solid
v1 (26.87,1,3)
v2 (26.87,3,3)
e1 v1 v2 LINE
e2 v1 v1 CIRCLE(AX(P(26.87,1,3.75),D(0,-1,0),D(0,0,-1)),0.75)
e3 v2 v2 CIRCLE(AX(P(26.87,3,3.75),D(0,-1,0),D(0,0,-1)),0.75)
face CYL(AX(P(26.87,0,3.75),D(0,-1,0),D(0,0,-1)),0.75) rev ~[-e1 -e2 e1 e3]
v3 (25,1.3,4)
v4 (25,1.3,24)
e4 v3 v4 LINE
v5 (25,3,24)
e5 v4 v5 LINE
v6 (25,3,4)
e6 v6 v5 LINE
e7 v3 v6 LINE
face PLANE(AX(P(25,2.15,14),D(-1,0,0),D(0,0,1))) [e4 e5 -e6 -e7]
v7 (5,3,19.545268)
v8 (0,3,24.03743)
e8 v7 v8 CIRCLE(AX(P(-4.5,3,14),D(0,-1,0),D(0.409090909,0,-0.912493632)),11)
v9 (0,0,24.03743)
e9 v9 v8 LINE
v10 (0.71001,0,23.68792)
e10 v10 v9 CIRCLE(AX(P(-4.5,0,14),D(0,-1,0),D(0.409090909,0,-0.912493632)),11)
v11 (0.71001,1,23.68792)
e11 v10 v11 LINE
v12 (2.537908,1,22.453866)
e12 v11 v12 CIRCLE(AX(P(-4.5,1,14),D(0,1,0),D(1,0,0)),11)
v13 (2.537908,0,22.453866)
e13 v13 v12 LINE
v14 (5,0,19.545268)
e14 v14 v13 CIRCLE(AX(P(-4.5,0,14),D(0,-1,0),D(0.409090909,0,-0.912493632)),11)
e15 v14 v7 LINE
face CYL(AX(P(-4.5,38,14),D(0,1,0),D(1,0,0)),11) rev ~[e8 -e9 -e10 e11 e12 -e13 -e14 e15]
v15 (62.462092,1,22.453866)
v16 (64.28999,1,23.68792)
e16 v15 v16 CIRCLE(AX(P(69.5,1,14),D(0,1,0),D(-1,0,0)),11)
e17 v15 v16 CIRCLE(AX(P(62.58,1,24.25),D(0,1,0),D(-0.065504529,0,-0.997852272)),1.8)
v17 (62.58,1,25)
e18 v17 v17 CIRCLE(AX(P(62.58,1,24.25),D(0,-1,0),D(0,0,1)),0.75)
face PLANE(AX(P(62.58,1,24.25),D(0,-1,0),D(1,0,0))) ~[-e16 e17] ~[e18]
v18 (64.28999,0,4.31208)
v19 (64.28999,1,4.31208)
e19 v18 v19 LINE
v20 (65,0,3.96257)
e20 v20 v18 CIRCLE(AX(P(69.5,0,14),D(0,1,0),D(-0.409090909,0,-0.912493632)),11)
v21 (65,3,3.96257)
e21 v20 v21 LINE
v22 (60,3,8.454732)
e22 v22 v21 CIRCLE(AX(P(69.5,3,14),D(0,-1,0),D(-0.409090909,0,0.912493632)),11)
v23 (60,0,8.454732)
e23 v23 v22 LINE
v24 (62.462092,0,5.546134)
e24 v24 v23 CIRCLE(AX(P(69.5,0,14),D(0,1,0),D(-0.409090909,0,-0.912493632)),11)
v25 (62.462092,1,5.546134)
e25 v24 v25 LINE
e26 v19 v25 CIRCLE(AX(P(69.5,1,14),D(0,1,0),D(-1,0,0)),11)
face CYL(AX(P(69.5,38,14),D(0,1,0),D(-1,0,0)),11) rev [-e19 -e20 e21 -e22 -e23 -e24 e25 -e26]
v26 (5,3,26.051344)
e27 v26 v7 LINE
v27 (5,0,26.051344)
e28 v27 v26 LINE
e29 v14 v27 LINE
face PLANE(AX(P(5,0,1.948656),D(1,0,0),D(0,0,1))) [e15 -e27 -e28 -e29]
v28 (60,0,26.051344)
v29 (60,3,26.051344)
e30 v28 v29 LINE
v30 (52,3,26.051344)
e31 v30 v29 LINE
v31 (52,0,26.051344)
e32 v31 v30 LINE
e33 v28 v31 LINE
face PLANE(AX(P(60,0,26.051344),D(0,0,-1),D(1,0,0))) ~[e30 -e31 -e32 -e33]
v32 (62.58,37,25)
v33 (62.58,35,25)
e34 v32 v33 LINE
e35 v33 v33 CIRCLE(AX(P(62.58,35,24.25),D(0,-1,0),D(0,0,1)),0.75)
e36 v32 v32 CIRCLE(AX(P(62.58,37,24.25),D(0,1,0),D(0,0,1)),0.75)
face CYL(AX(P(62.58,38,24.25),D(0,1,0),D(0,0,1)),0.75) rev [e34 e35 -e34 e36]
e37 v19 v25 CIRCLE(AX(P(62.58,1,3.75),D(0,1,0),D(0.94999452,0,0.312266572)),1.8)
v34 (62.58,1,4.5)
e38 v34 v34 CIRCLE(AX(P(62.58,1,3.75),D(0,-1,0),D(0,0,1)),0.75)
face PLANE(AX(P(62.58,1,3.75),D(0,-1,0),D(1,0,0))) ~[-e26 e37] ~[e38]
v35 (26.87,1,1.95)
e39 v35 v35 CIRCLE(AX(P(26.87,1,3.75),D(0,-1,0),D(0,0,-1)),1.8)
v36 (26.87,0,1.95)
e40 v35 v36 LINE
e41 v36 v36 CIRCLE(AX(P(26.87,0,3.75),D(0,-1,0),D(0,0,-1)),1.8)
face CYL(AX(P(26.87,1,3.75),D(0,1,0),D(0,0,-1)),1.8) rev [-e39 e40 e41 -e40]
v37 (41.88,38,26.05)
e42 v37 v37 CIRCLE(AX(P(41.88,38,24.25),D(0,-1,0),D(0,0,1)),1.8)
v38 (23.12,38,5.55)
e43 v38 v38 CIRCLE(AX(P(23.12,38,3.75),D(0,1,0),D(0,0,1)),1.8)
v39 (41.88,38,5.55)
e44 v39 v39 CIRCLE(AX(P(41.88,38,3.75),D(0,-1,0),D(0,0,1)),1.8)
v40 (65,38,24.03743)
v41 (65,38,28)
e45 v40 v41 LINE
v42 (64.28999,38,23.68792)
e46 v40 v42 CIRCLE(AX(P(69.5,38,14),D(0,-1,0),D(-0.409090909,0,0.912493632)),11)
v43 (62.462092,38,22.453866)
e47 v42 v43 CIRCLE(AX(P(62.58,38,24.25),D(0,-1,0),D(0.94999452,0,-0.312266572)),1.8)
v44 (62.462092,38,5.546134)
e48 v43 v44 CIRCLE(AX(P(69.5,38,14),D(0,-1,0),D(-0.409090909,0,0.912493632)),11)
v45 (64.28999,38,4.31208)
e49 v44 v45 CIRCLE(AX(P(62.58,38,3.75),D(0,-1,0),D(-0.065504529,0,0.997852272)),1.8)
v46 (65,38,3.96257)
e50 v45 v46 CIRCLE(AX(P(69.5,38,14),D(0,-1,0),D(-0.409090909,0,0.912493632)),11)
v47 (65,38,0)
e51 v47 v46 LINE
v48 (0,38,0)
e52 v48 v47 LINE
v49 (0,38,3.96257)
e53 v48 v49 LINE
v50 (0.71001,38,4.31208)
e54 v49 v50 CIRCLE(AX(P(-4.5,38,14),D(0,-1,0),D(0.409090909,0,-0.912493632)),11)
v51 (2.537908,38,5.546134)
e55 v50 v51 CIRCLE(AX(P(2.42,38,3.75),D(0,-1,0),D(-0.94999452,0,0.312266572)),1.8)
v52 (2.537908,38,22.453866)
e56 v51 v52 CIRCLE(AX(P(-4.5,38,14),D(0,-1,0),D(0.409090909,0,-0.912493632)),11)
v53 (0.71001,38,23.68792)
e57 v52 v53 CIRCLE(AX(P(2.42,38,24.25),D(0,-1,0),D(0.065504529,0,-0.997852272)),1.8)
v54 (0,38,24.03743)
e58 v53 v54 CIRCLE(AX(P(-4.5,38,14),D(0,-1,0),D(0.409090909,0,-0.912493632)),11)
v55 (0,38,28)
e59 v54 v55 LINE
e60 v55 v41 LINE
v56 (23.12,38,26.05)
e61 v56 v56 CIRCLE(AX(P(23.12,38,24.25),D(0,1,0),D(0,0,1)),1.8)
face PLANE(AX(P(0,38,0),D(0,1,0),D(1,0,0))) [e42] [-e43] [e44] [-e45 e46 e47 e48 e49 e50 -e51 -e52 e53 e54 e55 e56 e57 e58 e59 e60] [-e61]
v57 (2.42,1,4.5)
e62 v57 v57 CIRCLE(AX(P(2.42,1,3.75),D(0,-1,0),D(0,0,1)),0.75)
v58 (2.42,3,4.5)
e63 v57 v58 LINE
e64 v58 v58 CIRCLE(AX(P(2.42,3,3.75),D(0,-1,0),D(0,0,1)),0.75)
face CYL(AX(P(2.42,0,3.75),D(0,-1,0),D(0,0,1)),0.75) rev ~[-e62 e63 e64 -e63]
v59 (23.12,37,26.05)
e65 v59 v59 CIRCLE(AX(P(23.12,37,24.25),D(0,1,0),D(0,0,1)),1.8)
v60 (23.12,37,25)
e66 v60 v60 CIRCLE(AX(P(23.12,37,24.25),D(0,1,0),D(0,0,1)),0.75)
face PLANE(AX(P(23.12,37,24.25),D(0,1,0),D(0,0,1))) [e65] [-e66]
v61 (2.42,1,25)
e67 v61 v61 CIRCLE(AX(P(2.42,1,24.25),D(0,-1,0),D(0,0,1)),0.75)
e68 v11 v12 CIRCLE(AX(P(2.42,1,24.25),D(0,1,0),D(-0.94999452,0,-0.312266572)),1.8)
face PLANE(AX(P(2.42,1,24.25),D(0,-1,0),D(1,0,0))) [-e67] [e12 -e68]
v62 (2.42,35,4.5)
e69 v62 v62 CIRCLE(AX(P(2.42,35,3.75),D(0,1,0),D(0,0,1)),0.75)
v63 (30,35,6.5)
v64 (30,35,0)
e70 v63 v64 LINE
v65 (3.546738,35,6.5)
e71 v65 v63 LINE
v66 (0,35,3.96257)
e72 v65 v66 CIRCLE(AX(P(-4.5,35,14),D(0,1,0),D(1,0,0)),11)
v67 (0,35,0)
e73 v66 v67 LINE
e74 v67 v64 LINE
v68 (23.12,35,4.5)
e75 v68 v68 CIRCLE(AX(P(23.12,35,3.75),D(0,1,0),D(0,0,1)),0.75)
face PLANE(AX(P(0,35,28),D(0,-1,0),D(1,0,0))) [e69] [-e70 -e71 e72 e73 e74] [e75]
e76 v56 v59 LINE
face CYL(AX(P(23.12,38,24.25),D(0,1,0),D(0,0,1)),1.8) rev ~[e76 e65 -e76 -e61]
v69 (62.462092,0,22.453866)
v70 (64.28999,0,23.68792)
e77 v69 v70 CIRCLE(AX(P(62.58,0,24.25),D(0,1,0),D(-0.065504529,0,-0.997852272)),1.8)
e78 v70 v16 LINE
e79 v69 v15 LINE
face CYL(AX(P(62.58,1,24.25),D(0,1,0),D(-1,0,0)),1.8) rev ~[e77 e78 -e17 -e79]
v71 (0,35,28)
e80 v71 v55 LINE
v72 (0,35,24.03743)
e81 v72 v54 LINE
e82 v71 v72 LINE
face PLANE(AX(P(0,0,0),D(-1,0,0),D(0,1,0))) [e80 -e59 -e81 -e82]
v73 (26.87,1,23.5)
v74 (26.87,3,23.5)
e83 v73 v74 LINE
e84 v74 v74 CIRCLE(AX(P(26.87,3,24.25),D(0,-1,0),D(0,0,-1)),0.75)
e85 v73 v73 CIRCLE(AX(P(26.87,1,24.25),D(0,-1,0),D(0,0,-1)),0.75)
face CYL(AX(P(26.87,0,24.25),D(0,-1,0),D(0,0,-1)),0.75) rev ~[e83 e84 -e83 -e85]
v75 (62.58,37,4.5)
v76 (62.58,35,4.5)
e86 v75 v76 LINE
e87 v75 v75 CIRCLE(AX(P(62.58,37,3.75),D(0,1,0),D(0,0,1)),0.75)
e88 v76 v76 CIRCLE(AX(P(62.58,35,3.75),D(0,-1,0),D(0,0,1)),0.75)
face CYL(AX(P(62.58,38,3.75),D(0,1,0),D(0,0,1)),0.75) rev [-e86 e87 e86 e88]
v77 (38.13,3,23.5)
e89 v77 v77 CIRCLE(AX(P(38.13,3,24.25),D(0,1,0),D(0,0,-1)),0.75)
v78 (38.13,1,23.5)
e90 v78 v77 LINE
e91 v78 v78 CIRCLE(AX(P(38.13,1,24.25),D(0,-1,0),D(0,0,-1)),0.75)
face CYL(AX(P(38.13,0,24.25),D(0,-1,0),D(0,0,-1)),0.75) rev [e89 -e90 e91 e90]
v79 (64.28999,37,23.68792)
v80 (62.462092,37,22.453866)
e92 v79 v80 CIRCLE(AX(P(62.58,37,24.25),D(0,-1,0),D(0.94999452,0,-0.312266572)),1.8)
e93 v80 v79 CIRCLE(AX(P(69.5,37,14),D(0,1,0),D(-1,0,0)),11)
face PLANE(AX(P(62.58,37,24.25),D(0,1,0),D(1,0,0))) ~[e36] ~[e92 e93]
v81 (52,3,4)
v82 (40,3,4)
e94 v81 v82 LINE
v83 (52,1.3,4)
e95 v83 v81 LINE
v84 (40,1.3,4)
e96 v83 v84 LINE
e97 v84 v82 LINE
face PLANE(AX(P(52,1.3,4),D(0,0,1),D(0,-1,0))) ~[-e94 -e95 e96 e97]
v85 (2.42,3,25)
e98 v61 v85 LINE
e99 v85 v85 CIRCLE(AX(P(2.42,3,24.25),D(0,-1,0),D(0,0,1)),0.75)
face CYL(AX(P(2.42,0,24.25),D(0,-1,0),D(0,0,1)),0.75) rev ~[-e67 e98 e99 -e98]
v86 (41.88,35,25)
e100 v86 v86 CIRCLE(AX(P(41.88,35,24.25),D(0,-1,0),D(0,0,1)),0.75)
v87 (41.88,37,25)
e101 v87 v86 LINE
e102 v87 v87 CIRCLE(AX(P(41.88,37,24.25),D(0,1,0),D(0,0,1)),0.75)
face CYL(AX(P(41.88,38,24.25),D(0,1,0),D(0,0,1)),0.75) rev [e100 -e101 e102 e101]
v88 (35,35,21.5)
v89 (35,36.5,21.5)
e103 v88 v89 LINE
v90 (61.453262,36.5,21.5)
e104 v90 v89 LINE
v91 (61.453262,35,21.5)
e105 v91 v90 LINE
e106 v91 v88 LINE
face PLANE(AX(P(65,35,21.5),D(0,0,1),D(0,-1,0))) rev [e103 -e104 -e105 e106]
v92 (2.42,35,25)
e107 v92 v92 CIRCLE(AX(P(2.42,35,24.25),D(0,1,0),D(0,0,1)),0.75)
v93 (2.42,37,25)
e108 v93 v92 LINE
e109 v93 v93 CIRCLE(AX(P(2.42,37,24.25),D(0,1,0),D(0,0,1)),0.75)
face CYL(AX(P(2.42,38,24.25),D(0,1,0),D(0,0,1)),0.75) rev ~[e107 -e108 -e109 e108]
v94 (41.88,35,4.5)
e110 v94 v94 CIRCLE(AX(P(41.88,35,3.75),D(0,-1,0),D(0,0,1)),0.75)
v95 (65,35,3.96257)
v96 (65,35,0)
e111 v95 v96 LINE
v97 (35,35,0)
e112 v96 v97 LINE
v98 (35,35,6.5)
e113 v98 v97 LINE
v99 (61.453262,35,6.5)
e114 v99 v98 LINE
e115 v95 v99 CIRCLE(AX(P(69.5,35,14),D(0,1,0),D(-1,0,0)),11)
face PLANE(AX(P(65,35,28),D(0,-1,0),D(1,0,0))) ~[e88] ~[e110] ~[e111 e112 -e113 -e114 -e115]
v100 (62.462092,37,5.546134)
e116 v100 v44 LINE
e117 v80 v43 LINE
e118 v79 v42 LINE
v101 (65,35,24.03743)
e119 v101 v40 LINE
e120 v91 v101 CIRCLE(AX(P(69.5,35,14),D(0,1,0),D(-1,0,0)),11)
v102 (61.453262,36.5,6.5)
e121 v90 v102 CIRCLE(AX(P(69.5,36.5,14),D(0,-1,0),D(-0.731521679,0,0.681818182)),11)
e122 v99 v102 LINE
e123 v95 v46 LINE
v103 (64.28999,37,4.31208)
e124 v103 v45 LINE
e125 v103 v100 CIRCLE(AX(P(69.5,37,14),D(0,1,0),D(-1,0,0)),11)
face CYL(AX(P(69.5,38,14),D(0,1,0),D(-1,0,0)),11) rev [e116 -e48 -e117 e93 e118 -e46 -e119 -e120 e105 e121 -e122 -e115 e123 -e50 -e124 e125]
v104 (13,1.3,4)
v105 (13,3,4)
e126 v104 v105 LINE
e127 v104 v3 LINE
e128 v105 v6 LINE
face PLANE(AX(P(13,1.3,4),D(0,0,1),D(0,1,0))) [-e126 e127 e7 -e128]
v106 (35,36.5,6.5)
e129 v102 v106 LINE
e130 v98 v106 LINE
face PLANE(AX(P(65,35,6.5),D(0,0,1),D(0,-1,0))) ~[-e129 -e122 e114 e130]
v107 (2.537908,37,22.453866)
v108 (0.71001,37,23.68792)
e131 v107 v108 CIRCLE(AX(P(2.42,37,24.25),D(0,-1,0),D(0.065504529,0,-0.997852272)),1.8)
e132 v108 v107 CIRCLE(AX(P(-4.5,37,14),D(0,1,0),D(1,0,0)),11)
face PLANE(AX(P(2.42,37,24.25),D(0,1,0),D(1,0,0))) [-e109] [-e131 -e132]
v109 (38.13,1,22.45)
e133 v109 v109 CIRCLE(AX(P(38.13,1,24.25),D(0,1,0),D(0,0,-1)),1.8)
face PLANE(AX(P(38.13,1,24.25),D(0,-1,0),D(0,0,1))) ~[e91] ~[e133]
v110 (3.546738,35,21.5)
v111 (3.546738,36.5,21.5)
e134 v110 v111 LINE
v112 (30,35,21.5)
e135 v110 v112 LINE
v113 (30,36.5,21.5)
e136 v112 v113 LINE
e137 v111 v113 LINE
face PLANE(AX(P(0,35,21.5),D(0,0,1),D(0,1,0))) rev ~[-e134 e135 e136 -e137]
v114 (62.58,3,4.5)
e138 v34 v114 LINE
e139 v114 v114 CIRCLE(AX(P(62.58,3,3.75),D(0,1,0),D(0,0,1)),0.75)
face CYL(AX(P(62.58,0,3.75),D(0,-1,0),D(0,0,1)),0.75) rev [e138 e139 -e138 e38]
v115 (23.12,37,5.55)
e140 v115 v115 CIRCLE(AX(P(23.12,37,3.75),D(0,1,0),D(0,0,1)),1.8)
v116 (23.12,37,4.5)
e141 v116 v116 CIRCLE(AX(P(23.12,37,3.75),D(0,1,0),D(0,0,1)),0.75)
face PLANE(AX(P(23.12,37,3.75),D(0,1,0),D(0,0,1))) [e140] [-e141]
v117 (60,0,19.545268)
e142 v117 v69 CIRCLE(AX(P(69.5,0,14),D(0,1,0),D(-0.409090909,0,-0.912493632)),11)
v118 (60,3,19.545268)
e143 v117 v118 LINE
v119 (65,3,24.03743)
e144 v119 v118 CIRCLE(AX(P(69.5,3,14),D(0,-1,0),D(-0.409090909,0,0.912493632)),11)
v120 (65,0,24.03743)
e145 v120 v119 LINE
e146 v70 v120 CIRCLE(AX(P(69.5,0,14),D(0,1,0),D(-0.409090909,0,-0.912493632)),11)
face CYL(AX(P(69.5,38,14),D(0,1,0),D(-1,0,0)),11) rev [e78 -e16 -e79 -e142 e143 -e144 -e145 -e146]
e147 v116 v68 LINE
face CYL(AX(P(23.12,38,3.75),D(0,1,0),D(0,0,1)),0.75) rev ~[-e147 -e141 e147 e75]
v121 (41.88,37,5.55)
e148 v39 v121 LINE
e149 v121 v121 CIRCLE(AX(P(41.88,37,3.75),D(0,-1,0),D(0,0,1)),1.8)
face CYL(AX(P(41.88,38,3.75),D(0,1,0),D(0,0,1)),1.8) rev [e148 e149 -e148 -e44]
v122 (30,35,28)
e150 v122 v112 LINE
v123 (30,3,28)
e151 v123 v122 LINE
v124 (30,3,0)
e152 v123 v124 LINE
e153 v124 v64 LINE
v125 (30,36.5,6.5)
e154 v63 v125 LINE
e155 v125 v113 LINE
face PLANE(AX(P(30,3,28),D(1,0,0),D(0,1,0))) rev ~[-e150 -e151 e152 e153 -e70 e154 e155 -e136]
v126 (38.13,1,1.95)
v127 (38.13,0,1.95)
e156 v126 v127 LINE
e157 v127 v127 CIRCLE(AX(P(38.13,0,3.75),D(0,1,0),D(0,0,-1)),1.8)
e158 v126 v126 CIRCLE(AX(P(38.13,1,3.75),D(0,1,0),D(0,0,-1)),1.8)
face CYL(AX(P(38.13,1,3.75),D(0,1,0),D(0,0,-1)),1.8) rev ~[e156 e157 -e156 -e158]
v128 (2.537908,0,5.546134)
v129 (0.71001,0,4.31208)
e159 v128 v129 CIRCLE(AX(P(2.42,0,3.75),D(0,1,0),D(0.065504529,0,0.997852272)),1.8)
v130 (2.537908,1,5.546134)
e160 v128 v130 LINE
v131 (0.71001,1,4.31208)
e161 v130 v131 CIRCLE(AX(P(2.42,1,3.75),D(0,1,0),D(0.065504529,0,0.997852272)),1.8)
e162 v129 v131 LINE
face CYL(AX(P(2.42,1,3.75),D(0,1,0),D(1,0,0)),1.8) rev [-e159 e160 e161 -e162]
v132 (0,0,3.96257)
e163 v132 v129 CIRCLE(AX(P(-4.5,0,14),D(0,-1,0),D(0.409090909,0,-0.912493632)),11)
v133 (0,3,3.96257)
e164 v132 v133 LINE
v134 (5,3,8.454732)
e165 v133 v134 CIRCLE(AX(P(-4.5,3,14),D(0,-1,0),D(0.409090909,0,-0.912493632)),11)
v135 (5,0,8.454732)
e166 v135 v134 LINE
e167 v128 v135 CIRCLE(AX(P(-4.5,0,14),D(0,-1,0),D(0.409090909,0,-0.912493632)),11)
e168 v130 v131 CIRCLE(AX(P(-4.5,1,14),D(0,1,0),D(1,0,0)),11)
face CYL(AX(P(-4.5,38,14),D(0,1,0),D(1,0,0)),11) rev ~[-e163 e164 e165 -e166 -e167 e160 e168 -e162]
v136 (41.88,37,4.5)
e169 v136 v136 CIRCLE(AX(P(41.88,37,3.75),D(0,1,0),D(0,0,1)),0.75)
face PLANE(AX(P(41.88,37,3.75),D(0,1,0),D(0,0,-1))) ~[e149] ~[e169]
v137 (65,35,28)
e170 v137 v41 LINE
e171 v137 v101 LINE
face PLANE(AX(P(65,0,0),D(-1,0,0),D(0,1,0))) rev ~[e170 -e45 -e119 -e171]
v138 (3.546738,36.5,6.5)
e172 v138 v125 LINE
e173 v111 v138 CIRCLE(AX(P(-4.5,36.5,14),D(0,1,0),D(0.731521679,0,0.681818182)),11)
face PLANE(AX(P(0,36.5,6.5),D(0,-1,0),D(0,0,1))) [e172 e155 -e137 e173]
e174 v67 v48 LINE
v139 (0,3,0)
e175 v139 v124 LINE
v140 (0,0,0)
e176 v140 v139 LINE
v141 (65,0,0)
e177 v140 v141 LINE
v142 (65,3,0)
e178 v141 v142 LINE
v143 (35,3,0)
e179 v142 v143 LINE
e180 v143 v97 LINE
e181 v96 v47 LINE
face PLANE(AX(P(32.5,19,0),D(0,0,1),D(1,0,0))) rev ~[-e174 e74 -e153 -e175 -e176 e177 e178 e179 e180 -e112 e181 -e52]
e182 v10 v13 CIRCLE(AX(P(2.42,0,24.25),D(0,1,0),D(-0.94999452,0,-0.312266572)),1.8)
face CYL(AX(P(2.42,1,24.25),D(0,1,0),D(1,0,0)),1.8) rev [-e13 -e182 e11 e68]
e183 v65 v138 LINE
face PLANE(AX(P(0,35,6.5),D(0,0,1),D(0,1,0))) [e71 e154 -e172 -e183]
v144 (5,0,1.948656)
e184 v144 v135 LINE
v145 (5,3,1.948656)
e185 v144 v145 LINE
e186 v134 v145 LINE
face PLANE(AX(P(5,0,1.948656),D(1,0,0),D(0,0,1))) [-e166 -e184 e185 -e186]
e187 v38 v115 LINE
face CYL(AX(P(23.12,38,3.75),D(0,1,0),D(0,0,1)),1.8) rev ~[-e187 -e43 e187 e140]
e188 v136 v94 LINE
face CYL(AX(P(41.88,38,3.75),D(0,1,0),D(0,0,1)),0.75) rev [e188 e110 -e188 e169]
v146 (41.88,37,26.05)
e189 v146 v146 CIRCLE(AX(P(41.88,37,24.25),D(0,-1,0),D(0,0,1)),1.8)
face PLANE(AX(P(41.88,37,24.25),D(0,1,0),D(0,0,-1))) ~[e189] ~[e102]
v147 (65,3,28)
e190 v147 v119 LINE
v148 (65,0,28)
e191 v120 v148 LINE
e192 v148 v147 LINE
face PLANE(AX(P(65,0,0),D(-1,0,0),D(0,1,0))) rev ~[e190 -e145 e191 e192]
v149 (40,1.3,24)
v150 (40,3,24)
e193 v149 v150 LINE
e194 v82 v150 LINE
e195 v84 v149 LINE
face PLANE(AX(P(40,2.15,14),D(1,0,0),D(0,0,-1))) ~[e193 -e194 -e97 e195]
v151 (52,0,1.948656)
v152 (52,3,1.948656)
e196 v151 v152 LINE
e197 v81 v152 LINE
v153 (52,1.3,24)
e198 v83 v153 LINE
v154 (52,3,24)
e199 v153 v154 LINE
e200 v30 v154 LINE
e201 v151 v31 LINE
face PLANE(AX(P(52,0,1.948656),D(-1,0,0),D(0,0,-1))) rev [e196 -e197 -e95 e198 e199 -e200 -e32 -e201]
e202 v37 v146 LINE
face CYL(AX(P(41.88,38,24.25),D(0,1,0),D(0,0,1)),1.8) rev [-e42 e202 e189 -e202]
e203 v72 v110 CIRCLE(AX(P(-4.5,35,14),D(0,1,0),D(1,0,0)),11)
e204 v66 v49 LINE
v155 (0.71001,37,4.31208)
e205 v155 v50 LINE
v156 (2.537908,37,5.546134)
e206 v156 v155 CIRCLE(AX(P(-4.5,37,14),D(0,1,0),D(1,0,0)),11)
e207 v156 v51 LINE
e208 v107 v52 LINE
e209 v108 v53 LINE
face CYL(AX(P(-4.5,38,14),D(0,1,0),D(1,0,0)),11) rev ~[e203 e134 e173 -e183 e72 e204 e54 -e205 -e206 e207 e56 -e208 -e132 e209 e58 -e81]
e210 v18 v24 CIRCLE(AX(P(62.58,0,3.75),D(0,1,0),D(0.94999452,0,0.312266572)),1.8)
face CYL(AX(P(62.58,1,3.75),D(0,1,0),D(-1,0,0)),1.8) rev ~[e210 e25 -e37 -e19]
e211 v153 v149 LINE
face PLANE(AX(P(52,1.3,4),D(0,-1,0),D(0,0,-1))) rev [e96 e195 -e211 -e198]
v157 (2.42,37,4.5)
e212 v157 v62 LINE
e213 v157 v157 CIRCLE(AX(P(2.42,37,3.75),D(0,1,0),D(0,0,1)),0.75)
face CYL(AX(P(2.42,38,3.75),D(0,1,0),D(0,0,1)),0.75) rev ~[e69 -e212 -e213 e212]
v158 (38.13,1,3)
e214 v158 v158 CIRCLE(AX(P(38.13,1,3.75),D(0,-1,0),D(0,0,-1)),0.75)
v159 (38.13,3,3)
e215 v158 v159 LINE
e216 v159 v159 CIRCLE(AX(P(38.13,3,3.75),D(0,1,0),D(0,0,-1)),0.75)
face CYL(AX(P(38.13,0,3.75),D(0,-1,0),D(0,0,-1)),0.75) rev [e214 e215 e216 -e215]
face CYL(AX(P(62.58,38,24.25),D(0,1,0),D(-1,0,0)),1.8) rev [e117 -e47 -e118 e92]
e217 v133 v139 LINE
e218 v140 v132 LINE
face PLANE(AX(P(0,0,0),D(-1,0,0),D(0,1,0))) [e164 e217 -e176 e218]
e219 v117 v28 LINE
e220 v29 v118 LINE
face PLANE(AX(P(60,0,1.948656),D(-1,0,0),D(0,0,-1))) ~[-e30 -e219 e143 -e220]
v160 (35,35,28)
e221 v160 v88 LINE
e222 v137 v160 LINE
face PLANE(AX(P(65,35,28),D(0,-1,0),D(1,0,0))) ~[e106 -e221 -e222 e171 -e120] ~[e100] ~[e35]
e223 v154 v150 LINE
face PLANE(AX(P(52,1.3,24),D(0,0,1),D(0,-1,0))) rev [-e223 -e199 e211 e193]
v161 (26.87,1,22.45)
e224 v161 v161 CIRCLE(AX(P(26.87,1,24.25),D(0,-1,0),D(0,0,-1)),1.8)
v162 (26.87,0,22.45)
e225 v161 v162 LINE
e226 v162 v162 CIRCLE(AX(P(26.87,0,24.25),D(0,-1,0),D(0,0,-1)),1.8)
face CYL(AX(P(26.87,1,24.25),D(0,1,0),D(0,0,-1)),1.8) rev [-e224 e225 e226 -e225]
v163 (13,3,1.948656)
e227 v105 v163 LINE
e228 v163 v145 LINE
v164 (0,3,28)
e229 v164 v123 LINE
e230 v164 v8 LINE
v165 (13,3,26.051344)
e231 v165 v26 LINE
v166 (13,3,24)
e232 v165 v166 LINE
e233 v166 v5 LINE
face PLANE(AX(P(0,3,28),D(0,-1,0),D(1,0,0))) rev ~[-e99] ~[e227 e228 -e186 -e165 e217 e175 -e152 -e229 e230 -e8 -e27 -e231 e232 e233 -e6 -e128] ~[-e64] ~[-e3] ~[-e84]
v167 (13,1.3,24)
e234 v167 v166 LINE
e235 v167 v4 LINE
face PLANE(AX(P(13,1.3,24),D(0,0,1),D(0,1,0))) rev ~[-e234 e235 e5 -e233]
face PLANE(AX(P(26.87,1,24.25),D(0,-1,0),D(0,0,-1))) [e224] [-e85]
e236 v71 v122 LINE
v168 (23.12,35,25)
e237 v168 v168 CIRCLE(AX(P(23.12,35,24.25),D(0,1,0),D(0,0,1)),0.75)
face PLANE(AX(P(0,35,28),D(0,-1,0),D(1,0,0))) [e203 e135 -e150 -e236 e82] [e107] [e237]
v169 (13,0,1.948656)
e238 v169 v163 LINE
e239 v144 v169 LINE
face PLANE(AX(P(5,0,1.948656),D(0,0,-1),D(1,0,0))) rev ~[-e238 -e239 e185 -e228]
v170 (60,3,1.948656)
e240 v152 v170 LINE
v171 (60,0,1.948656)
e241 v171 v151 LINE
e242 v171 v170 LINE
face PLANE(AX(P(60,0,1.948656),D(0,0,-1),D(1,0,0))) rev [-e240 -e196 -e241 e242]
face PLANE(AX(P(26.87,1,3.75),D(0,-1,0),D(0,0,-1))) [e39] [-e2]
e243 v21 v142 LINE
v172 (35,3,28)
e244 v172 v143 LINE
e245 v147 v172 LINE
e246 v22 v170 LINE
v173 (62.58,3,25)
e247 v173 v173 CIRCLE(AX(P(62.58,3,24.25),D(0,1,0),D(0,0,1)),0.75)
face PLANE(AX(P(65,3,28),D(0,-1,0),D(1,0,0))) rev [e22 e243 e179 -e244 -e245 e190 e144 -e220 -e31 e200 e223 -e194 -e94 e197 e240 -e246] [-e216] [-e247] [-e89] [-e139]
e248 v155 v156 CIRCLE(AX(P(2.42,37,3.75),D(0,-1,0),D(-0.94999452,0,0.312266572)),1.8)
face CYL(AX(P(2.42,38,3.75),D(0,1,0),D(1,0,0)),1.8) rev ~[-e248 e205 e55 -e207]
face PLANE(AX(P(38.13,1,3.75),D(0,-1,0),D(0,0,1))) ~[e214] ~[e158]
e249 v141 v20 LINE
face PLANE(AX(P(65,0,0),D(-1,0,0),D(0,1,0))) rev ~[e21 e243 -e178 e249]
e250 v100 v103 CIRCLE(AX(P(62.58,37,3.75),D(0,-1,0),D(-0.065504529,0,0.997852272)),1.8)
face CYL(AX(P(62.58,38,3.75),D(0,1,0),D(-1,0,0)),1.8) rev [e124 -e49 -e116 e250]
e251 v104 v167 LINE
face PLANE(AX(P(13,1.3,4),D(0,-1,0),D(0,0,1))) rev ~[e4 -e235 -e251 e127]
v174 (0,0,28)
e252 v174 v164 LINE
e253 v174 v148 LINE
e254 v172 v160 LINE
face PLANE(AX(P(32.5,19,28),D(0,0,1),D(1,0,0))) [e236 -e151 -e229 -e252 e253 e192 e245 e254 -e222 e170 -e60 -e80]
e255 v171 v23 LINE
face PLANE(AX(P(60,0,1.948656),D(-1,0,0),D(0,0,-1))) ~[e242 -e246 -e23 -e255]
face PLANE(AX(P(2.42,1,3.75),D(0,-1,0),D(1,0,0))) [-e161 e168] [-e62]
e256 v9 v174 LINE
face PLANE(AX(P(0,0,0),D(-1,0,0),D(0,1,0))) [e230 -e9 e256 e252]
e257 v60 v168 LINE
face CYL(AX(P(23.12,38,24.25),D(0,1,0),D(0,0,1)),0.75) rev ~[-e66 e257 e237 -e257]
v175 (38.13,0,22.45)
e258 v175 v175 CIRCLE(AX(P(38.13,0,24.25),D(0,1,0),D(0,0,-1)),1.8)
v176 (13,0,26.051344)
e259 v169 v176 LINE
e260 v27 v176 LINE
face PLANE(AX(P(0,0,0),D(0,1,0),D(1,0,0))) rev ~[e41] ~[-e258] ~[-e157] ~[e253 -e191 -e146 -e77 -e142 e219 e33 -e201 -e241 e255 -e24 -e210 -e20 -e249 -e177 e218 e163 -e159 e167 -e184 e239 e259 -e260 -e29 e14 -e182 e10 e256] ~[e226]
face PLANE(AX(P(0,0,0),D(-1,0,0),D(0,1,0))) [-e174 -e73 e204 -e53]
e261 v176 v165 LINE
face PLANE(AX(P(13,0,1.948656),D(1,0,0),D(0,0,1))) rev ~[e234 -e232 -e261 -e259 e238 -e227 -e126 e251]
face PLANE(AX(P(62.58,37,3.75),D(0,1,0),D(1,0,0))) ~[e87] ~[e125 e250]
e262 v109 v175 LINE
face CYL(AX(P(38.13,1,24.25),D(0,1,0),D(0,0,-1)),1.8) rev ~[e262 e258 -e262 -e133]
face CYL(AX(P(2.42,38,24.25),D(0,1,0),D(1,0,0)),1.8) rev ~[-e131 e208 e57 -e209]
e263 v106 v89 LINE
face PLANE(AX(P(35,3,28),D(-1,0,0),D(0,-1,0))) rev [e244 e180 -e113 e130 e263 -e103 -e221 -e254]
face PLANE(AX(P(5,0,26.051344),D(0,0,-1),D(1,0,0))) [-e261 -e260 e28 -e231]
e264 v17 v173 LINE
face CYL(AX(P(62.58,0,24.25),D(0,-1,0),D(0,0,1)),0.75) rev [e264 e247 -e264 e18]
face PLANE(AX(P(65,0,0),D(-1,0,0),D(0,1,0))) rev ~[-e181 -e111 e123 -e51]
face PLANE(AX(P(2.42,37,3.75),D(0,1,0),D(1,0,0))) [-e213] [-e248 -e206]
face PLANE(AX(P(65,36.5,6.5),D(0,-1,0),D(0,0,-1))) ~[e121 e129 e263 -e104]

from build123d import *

# Parameters (mm, degrees)
SKETCH_1_W           = 65
SKETCH_1_H           = 38
EXTRUDE_1_DEPTH      = 28
SKETCH_2_W           = 30
SKETCH_2_H           = 32
CUT_EXTRUDE_1_DEPTH  = 81.330567034
CUT_EXTRUDE_3_REACH  = 82.331
SKETCH_3_R           = 0.75
SKETCH_4_W           = 15
SKETCH_4_H           = 1.5
CUT_EXTRUDE_4_DEPTH  = 30
SKETCH_5_R           = 11
CUT_EXTRUDE_5_DEPTH  = 81.330567034
CUT_EXTRUDE_6_REACH  = 82.331
SKETCH_6_R           = 0.75
CUT_EXTRUDE_7_REACH  = 82.331
SKETCH_7_W           = 8
SKETCH_7_H           = 24.102688632
SKETCH_8_R           = 1.8
CUT_EXTRUDE_8_DEPTH  = 1
CUT_EXTRUDE_START    = -1
SKETCH_9_R           = 1.8
CUT_EXTRUDE_9_DEPTH  = 1
SKETCH_10_W          = 20
SKETCH_10_H          = 1.7
CUT_EXTRUDE_10_DEPTH = 12


with BuildPart() as part:
    # 草图1 → 凸台-拉伸1 (new body)
    with BuildSketch(Plane.XY):
        with Locations((32.5, 19)):
            Rectangle(SKETCH_1_W, SKETCH_1_H)
    extrude(amount=EXTRUDE_1_DEPTH)

    # 草图2 → 切除-拉伸1 (cut, through all)
    with BuildSketch(Plane.XY.offset(28)):
        with Locations((15, 19)):
            Rectangle(SKETCH_2_W, SKETCH_2_H)
    cut_extrude_1 = extrude(amount=-CUT_EXTRUDE_1_DEPTH, mode=Mode.SUBTRACT)

    # 草图3 → 切除-拉伸3 (cut, up to next)
    with BuildSketch(Plane(origin=(0, 38, 0), x_dir=(1, 0, 0), z_dir=(0, 1, 0)), mode=Mode.PRIVATE) as cut_extrude_3_sk1:
        with Locations(Location((2.42, -3.75, 0), (0, 0, 270))):
            Circle(SKETCH_3_R)
    cut_extrude_3_tool1 = extrude(cut_extrude_3_sk1.sketch, amount=-CUT_EXTRUDE_3_REACH, mode=Mode.PRIVATE) & part.part
    # 草图3 → 切除-拉伸3 (cut, up to next)
    with BuildSketch(Plane(origin=(0, 38, 0), x_dir=(1, 0, 0), z_dir=(0, 1, 0)), mode=Mode.PRIVATE) as cut_extrude_3_sk2:
        with Locations(Location((23.12, -3.75, 0), (0, 0, 270))):
            Circle(SKETCH_3_R)
    cut_extrude_3_tool2 = extrude(cut_extrude_3_sk2.sketch, amount=-CUT_EXTRUDE_3_REACH, mode=Mode.PRIVATE) & part.part
    # 草图3 → 切除-拉伸3 (cut, up to next)
    with BuildSketch(Plane(origin=(0, 38, 0), x_dir=(1, 0, 0), z_dir=(0, 1, 0)), mode=Mode.PRIVATE) as cut_extrude_3_sk3:
        with Locations(Location((23.12, -24.25, 0), (0, 0, 270))):
            Circle(SKETCH_3_R)
    cut_extrude_3_tool3 = extrude(cut_extrude_3_sk3.sketch, amount=-CUT_EXTRUDE_3_REACH, mode=Mode.PRIVATE) & part.part
    # 草图3 → 切除-拉伸3 (cut, up to next)
    with BuildSketch(Plane(origin=(0, 38, 0), x_dir=(1, 0, 0), z_dir=(0, 1, 0)), mode=Mode.PRIVATE) as cut_extrude_3_sk4:
        with Locations(Location((2.42, -24.25, 0), (0, 0, 270))):
            Circle(SKETCH_3_R)
    cut_extrude_3_tool4 = extrude(cut_extrude_3_sk4.sketch, amount=-CUT_EXTRUDE_3_REACH, mode=Mode.PRIVATE) & part.part
    cut_extrude_3_1 = cut_extrude_3_tool1.solids().sort_by_distance((2.42, 38, 3.75))[0]
    add(cut_extrude_3_1, mode=Mode.SUBTRACT)
    cut_extrude_3_2 = cut_extrude_3_tool2.solids().sort_by_distance((23.12, 38, 3.75))[0]
    add(cut_extrude_3_2, mode=Mode.SUBTRACT)
    cut_extrude_3_3 = cut_extrude_3_tool3.solids().sort_by_distance((23.12, 38, 24.25))[0]
    add(cut_extrude_3_3, mode=Mode.SUBTRACT)
    cut_extrude_3_4 = cut_extrude_3_tool4.solids().sort_by_distance((2.42, 38, 24.25))[0]
    add(cut_extrude_3_4, mode=Mode.SUBTRACT)
    cut_extrude_3 = cut_extrude_3_1 + cut_extrude_3_2 + cut_extrude_3_3 + cut_extrude_3_4  # 切除-拉伸3 as one shape, for the pattern or mirror that repeats it

    # 草图4 → 切除-拉伸4 (cut)
    with BuildSketch(Plane.ZY):
        with Locations((14, 35.75)):
            Rectangle(SKETCH_4_W, SKETCH_4_H)
    cut_extrude_4 = extrude(amount=-CUT_EXTRUDE_4_DEPTH, mode=Mode.SUBTRACT)

    # 草图5 → 切除-拉伸5 (cut, through all)
    with BuildSketch(Plane(origin=(0, 38, 0), x_dir=(1, 0, 0), z_dir=(0, 1, 0))):
        with Locations((-4.5, -14)):
            Circle(SKETCH_5_R)
    cut_extrude_5 = extrude(amount=-CUT_EXTRUDE_5_DEPTH, mode=Mode.SUBTRACT)

    # 草图6 → 切除-拉伸6 (cut, up to next)
    with BuildSketch(Plane.XZ, mode=Mode.PRIVATE) as cut_extrude_6_sk1:
        with Locations(Location((2.42, 3.75, 0), (0, 0, 90))):
            Circle(SKETCH_6_R)
    cut_extrude_6_tool1 = extrude(cut_extrude_6_sk1.sketch, amount=-CUT_EXTRUDE_6_REACH, mode=Mode.PRIVATE) & part.part
    # 草图6 → 切除-拉伸6 (cut, up to next)
    with BuildSketch(Plane.XZ, mode=Mode.PRIVATE) as cut_extrude_6_sk2:
        with Locations(Location((2.42, 24.25, 0), (0, 0, 90))):
            Circle(SKETCH_6_R)
    cut_extrude_6_tool2 = extrude(cut_extrude_6_sk2.sketch, amount=-CUT_EXTRUDE_6_REACH, mode=Mode.PRIVATE) & part.part
    # 草图6 → 切除-拉伸6 (cut, up to next)
    with BuildSketch(Plane.XZ, mode=Mode.PRIVATE) as cut_extrude_6_sk3:
        with Locations(Location((26.87, 24.25, 0), (0, 0, 270))):
            Circle(SKETCH_6_R)
    cut_extrude_6_tool3 = extrude(cut_extrude_6_sk3.sketch, amount=-CUT_EXTRUDE_6_REACH, mode=Mode.PRIVATE) & part.part
    # 草图6 → 切除-拉伸6 (cut, up to next)
    with BuildSketch(Plane.XZ, mode=Mode.PRIVATE) as cut_extrude_6_sk4:
        with Locations(Location((26.87, 3.75, 0), (0, 0, 270))):
            Circle(SKETCH_6_R)
    cut_extrude_6_tool4 = extrude(cut_extrude_6_sk4.sketch, amount=-CUT_EXTRUDE_6_REACH, mode=Mode.PRIVATE) & part.part
    cut_extrude_6_1 = cut_extrude_6_tool1.solids().sort_by_distance((2.42, 0, 3.75))[0]
    add(cut_extrude_6_1, mode=Mode.SUBTRACT)
    cut_extrude_6_2 = cut_extrude_6_tool2.solids().sort_by_distance((2.42, 0, 24.25))[0]
    add(cut_extrude_6_2, mode=Mode.SUBTRACT)
    cut_extrude_6_3 = cut_extrude_6_tool3.solids().sort_by_distance((26.87, 0, 24.25))[0]
    add(cut_extrude_6_3, mode=Mode.SUBTRACT)
    cut_extrude_6_4 = cut_extrude_6_tool4.solids().sort_by_distance((26.87, 0, 3.75))[0]
    add(cut_extrude_6_4, mode=Mode.SUBTRACT)
    cut_extrude_6 = cut_extrude_6_1 + cut_extrude_6_2 + cut_extrude_6_3 + cut_extrude_6_4  # 切除-拉伸6 as one shape, for the pattern or mirror that repeats it

    # 草图7 → 切除-拉伸7 (cut, up to next)
    with BuildSketch(Plane.XZ, mode=Mode.PRIVATE) as cut_extrude_7_sk1:
        with Locations((9, 14)):
            Rectangle(SKETCH_7_W, SKETCH_7_H)
    cut_extrude_7_tool1 = extrude(cut_extrude_7_sk1.sketch, amount=-CUT_EXTRUDE_7_REACH, mode=Mode.PRIVATE) & part.part
    cut_extrude_7 = cut_extrude_7_tool1.solids().sort_by_distance((9, 0, 14))[0]
    add(cut_extrude_7, mode=Mode.SUBTRACT)

    # 草图8 → 切除-拉伸8 (cut)
    with BuildSketch(Plane(origin=(0, 38, 0), x_dir=(1, 0, 0), z_dir=(0, 1, 0))):
        with Locations(Location((23.12, -3.75, 0), (0, 0, 270))):
            Circle(SKETCH_8_R)
        with Locations((2.42, -3.75)):
            Circle(SKETCH_8_R)
        with Locations((2.42, -24.25)):
            Circle(SKETCH_8_R)
        with Locations(Location((23.12, -24.25, 0), (0, 0, 270))):
            Circle(SKETCH_8_R)
    cut_extrude_8 = extrude(amount=-CUT_EXTRUDE_8_DEPTH, mode=Mode.SUBTRACT)

    # 草图9 → 切除-拉伸9 (cut)
    with BuildSketch(Plane.XZ.offset(CUT_EXTRUDE_START)):
        with Locations((2.42, 24.25)):
            Circle(SKETCH_9_R)
        with Locations(Location((26.87, 24.25, 0), (0, 0, 270))):
            Circle(SKETCH_9_R)
        with Locations(Location((26.87, 3.75, 0), (0, 0, 270))):
            Circle(SKETCH_9_R)
        with Locations((2.42, 3.75)):
            Circle(SKETCH_9_R)
    cut_extrude_9 = extrude(amount=CUT_EXTRUDE_9_DEPTH, mode=Mode.SUBTRACT)

    # 草图10 → 切除-拉伸10 (cut)
    with BuildSketch(Plane.ZY.offset(-13)):
        with Locations((14, 2.15)):
            Rectangle(SKETCH_10_W, SKETCH_10_H)
    cut_extrude_10 = extrude(amount=-CUT_EXTRUDE_10_DEPTH, mode=Mode.SUBTRACT)

    # 镜向1: 切除-拉伸1, 切除-拉伸3, 切除-拉伸4, 切除-拉伸5, 切除-拉伸6, 切除-拉伸7, 切除-拉伸8, 切除-拉伸9, 切除-拉伸10 across plane
    add(cut_extrude_1.mirror(Plane.ZY.offset(-32.5)), mode=Mode.SUBTRACT)
    add(cut_extrude_3.mirror(Plane.ZY.offset(-32.5)), mode=Mode.SUBTRACT)
    add(cut_extrude_4.mirror(Plane.ZY.offset(-32.5)), mode=Mode.SUBTRACT)
    add(cut_extrude_5.mirror(Plane.ZY.offset(-32.5)), mode=Mode.SUBTRACT)
    add(cut_extrude_6.mirror(Plane.ZY.offset(-32.5)), mode=Mode.SUBTRACT)
    add(cut_extrude_7.mirror(Plane.ZY.offset(-32.5)), mode=Mode.SUBTRACT)
    add(cut_extrude_8.mirror(Plane.ZY.offset(-32.5)), mode=Mode.SUBTRACT)
    add(cut_extrude_9.mirror(Plane.ZY.offset(-32.5)), mode=Mode.SUBTRACT)
    add(cut_extrude_10.mirror(Plane.ZY.offset(-32.5)), mode=Mode.SUBTRACT)


solid = part.part
